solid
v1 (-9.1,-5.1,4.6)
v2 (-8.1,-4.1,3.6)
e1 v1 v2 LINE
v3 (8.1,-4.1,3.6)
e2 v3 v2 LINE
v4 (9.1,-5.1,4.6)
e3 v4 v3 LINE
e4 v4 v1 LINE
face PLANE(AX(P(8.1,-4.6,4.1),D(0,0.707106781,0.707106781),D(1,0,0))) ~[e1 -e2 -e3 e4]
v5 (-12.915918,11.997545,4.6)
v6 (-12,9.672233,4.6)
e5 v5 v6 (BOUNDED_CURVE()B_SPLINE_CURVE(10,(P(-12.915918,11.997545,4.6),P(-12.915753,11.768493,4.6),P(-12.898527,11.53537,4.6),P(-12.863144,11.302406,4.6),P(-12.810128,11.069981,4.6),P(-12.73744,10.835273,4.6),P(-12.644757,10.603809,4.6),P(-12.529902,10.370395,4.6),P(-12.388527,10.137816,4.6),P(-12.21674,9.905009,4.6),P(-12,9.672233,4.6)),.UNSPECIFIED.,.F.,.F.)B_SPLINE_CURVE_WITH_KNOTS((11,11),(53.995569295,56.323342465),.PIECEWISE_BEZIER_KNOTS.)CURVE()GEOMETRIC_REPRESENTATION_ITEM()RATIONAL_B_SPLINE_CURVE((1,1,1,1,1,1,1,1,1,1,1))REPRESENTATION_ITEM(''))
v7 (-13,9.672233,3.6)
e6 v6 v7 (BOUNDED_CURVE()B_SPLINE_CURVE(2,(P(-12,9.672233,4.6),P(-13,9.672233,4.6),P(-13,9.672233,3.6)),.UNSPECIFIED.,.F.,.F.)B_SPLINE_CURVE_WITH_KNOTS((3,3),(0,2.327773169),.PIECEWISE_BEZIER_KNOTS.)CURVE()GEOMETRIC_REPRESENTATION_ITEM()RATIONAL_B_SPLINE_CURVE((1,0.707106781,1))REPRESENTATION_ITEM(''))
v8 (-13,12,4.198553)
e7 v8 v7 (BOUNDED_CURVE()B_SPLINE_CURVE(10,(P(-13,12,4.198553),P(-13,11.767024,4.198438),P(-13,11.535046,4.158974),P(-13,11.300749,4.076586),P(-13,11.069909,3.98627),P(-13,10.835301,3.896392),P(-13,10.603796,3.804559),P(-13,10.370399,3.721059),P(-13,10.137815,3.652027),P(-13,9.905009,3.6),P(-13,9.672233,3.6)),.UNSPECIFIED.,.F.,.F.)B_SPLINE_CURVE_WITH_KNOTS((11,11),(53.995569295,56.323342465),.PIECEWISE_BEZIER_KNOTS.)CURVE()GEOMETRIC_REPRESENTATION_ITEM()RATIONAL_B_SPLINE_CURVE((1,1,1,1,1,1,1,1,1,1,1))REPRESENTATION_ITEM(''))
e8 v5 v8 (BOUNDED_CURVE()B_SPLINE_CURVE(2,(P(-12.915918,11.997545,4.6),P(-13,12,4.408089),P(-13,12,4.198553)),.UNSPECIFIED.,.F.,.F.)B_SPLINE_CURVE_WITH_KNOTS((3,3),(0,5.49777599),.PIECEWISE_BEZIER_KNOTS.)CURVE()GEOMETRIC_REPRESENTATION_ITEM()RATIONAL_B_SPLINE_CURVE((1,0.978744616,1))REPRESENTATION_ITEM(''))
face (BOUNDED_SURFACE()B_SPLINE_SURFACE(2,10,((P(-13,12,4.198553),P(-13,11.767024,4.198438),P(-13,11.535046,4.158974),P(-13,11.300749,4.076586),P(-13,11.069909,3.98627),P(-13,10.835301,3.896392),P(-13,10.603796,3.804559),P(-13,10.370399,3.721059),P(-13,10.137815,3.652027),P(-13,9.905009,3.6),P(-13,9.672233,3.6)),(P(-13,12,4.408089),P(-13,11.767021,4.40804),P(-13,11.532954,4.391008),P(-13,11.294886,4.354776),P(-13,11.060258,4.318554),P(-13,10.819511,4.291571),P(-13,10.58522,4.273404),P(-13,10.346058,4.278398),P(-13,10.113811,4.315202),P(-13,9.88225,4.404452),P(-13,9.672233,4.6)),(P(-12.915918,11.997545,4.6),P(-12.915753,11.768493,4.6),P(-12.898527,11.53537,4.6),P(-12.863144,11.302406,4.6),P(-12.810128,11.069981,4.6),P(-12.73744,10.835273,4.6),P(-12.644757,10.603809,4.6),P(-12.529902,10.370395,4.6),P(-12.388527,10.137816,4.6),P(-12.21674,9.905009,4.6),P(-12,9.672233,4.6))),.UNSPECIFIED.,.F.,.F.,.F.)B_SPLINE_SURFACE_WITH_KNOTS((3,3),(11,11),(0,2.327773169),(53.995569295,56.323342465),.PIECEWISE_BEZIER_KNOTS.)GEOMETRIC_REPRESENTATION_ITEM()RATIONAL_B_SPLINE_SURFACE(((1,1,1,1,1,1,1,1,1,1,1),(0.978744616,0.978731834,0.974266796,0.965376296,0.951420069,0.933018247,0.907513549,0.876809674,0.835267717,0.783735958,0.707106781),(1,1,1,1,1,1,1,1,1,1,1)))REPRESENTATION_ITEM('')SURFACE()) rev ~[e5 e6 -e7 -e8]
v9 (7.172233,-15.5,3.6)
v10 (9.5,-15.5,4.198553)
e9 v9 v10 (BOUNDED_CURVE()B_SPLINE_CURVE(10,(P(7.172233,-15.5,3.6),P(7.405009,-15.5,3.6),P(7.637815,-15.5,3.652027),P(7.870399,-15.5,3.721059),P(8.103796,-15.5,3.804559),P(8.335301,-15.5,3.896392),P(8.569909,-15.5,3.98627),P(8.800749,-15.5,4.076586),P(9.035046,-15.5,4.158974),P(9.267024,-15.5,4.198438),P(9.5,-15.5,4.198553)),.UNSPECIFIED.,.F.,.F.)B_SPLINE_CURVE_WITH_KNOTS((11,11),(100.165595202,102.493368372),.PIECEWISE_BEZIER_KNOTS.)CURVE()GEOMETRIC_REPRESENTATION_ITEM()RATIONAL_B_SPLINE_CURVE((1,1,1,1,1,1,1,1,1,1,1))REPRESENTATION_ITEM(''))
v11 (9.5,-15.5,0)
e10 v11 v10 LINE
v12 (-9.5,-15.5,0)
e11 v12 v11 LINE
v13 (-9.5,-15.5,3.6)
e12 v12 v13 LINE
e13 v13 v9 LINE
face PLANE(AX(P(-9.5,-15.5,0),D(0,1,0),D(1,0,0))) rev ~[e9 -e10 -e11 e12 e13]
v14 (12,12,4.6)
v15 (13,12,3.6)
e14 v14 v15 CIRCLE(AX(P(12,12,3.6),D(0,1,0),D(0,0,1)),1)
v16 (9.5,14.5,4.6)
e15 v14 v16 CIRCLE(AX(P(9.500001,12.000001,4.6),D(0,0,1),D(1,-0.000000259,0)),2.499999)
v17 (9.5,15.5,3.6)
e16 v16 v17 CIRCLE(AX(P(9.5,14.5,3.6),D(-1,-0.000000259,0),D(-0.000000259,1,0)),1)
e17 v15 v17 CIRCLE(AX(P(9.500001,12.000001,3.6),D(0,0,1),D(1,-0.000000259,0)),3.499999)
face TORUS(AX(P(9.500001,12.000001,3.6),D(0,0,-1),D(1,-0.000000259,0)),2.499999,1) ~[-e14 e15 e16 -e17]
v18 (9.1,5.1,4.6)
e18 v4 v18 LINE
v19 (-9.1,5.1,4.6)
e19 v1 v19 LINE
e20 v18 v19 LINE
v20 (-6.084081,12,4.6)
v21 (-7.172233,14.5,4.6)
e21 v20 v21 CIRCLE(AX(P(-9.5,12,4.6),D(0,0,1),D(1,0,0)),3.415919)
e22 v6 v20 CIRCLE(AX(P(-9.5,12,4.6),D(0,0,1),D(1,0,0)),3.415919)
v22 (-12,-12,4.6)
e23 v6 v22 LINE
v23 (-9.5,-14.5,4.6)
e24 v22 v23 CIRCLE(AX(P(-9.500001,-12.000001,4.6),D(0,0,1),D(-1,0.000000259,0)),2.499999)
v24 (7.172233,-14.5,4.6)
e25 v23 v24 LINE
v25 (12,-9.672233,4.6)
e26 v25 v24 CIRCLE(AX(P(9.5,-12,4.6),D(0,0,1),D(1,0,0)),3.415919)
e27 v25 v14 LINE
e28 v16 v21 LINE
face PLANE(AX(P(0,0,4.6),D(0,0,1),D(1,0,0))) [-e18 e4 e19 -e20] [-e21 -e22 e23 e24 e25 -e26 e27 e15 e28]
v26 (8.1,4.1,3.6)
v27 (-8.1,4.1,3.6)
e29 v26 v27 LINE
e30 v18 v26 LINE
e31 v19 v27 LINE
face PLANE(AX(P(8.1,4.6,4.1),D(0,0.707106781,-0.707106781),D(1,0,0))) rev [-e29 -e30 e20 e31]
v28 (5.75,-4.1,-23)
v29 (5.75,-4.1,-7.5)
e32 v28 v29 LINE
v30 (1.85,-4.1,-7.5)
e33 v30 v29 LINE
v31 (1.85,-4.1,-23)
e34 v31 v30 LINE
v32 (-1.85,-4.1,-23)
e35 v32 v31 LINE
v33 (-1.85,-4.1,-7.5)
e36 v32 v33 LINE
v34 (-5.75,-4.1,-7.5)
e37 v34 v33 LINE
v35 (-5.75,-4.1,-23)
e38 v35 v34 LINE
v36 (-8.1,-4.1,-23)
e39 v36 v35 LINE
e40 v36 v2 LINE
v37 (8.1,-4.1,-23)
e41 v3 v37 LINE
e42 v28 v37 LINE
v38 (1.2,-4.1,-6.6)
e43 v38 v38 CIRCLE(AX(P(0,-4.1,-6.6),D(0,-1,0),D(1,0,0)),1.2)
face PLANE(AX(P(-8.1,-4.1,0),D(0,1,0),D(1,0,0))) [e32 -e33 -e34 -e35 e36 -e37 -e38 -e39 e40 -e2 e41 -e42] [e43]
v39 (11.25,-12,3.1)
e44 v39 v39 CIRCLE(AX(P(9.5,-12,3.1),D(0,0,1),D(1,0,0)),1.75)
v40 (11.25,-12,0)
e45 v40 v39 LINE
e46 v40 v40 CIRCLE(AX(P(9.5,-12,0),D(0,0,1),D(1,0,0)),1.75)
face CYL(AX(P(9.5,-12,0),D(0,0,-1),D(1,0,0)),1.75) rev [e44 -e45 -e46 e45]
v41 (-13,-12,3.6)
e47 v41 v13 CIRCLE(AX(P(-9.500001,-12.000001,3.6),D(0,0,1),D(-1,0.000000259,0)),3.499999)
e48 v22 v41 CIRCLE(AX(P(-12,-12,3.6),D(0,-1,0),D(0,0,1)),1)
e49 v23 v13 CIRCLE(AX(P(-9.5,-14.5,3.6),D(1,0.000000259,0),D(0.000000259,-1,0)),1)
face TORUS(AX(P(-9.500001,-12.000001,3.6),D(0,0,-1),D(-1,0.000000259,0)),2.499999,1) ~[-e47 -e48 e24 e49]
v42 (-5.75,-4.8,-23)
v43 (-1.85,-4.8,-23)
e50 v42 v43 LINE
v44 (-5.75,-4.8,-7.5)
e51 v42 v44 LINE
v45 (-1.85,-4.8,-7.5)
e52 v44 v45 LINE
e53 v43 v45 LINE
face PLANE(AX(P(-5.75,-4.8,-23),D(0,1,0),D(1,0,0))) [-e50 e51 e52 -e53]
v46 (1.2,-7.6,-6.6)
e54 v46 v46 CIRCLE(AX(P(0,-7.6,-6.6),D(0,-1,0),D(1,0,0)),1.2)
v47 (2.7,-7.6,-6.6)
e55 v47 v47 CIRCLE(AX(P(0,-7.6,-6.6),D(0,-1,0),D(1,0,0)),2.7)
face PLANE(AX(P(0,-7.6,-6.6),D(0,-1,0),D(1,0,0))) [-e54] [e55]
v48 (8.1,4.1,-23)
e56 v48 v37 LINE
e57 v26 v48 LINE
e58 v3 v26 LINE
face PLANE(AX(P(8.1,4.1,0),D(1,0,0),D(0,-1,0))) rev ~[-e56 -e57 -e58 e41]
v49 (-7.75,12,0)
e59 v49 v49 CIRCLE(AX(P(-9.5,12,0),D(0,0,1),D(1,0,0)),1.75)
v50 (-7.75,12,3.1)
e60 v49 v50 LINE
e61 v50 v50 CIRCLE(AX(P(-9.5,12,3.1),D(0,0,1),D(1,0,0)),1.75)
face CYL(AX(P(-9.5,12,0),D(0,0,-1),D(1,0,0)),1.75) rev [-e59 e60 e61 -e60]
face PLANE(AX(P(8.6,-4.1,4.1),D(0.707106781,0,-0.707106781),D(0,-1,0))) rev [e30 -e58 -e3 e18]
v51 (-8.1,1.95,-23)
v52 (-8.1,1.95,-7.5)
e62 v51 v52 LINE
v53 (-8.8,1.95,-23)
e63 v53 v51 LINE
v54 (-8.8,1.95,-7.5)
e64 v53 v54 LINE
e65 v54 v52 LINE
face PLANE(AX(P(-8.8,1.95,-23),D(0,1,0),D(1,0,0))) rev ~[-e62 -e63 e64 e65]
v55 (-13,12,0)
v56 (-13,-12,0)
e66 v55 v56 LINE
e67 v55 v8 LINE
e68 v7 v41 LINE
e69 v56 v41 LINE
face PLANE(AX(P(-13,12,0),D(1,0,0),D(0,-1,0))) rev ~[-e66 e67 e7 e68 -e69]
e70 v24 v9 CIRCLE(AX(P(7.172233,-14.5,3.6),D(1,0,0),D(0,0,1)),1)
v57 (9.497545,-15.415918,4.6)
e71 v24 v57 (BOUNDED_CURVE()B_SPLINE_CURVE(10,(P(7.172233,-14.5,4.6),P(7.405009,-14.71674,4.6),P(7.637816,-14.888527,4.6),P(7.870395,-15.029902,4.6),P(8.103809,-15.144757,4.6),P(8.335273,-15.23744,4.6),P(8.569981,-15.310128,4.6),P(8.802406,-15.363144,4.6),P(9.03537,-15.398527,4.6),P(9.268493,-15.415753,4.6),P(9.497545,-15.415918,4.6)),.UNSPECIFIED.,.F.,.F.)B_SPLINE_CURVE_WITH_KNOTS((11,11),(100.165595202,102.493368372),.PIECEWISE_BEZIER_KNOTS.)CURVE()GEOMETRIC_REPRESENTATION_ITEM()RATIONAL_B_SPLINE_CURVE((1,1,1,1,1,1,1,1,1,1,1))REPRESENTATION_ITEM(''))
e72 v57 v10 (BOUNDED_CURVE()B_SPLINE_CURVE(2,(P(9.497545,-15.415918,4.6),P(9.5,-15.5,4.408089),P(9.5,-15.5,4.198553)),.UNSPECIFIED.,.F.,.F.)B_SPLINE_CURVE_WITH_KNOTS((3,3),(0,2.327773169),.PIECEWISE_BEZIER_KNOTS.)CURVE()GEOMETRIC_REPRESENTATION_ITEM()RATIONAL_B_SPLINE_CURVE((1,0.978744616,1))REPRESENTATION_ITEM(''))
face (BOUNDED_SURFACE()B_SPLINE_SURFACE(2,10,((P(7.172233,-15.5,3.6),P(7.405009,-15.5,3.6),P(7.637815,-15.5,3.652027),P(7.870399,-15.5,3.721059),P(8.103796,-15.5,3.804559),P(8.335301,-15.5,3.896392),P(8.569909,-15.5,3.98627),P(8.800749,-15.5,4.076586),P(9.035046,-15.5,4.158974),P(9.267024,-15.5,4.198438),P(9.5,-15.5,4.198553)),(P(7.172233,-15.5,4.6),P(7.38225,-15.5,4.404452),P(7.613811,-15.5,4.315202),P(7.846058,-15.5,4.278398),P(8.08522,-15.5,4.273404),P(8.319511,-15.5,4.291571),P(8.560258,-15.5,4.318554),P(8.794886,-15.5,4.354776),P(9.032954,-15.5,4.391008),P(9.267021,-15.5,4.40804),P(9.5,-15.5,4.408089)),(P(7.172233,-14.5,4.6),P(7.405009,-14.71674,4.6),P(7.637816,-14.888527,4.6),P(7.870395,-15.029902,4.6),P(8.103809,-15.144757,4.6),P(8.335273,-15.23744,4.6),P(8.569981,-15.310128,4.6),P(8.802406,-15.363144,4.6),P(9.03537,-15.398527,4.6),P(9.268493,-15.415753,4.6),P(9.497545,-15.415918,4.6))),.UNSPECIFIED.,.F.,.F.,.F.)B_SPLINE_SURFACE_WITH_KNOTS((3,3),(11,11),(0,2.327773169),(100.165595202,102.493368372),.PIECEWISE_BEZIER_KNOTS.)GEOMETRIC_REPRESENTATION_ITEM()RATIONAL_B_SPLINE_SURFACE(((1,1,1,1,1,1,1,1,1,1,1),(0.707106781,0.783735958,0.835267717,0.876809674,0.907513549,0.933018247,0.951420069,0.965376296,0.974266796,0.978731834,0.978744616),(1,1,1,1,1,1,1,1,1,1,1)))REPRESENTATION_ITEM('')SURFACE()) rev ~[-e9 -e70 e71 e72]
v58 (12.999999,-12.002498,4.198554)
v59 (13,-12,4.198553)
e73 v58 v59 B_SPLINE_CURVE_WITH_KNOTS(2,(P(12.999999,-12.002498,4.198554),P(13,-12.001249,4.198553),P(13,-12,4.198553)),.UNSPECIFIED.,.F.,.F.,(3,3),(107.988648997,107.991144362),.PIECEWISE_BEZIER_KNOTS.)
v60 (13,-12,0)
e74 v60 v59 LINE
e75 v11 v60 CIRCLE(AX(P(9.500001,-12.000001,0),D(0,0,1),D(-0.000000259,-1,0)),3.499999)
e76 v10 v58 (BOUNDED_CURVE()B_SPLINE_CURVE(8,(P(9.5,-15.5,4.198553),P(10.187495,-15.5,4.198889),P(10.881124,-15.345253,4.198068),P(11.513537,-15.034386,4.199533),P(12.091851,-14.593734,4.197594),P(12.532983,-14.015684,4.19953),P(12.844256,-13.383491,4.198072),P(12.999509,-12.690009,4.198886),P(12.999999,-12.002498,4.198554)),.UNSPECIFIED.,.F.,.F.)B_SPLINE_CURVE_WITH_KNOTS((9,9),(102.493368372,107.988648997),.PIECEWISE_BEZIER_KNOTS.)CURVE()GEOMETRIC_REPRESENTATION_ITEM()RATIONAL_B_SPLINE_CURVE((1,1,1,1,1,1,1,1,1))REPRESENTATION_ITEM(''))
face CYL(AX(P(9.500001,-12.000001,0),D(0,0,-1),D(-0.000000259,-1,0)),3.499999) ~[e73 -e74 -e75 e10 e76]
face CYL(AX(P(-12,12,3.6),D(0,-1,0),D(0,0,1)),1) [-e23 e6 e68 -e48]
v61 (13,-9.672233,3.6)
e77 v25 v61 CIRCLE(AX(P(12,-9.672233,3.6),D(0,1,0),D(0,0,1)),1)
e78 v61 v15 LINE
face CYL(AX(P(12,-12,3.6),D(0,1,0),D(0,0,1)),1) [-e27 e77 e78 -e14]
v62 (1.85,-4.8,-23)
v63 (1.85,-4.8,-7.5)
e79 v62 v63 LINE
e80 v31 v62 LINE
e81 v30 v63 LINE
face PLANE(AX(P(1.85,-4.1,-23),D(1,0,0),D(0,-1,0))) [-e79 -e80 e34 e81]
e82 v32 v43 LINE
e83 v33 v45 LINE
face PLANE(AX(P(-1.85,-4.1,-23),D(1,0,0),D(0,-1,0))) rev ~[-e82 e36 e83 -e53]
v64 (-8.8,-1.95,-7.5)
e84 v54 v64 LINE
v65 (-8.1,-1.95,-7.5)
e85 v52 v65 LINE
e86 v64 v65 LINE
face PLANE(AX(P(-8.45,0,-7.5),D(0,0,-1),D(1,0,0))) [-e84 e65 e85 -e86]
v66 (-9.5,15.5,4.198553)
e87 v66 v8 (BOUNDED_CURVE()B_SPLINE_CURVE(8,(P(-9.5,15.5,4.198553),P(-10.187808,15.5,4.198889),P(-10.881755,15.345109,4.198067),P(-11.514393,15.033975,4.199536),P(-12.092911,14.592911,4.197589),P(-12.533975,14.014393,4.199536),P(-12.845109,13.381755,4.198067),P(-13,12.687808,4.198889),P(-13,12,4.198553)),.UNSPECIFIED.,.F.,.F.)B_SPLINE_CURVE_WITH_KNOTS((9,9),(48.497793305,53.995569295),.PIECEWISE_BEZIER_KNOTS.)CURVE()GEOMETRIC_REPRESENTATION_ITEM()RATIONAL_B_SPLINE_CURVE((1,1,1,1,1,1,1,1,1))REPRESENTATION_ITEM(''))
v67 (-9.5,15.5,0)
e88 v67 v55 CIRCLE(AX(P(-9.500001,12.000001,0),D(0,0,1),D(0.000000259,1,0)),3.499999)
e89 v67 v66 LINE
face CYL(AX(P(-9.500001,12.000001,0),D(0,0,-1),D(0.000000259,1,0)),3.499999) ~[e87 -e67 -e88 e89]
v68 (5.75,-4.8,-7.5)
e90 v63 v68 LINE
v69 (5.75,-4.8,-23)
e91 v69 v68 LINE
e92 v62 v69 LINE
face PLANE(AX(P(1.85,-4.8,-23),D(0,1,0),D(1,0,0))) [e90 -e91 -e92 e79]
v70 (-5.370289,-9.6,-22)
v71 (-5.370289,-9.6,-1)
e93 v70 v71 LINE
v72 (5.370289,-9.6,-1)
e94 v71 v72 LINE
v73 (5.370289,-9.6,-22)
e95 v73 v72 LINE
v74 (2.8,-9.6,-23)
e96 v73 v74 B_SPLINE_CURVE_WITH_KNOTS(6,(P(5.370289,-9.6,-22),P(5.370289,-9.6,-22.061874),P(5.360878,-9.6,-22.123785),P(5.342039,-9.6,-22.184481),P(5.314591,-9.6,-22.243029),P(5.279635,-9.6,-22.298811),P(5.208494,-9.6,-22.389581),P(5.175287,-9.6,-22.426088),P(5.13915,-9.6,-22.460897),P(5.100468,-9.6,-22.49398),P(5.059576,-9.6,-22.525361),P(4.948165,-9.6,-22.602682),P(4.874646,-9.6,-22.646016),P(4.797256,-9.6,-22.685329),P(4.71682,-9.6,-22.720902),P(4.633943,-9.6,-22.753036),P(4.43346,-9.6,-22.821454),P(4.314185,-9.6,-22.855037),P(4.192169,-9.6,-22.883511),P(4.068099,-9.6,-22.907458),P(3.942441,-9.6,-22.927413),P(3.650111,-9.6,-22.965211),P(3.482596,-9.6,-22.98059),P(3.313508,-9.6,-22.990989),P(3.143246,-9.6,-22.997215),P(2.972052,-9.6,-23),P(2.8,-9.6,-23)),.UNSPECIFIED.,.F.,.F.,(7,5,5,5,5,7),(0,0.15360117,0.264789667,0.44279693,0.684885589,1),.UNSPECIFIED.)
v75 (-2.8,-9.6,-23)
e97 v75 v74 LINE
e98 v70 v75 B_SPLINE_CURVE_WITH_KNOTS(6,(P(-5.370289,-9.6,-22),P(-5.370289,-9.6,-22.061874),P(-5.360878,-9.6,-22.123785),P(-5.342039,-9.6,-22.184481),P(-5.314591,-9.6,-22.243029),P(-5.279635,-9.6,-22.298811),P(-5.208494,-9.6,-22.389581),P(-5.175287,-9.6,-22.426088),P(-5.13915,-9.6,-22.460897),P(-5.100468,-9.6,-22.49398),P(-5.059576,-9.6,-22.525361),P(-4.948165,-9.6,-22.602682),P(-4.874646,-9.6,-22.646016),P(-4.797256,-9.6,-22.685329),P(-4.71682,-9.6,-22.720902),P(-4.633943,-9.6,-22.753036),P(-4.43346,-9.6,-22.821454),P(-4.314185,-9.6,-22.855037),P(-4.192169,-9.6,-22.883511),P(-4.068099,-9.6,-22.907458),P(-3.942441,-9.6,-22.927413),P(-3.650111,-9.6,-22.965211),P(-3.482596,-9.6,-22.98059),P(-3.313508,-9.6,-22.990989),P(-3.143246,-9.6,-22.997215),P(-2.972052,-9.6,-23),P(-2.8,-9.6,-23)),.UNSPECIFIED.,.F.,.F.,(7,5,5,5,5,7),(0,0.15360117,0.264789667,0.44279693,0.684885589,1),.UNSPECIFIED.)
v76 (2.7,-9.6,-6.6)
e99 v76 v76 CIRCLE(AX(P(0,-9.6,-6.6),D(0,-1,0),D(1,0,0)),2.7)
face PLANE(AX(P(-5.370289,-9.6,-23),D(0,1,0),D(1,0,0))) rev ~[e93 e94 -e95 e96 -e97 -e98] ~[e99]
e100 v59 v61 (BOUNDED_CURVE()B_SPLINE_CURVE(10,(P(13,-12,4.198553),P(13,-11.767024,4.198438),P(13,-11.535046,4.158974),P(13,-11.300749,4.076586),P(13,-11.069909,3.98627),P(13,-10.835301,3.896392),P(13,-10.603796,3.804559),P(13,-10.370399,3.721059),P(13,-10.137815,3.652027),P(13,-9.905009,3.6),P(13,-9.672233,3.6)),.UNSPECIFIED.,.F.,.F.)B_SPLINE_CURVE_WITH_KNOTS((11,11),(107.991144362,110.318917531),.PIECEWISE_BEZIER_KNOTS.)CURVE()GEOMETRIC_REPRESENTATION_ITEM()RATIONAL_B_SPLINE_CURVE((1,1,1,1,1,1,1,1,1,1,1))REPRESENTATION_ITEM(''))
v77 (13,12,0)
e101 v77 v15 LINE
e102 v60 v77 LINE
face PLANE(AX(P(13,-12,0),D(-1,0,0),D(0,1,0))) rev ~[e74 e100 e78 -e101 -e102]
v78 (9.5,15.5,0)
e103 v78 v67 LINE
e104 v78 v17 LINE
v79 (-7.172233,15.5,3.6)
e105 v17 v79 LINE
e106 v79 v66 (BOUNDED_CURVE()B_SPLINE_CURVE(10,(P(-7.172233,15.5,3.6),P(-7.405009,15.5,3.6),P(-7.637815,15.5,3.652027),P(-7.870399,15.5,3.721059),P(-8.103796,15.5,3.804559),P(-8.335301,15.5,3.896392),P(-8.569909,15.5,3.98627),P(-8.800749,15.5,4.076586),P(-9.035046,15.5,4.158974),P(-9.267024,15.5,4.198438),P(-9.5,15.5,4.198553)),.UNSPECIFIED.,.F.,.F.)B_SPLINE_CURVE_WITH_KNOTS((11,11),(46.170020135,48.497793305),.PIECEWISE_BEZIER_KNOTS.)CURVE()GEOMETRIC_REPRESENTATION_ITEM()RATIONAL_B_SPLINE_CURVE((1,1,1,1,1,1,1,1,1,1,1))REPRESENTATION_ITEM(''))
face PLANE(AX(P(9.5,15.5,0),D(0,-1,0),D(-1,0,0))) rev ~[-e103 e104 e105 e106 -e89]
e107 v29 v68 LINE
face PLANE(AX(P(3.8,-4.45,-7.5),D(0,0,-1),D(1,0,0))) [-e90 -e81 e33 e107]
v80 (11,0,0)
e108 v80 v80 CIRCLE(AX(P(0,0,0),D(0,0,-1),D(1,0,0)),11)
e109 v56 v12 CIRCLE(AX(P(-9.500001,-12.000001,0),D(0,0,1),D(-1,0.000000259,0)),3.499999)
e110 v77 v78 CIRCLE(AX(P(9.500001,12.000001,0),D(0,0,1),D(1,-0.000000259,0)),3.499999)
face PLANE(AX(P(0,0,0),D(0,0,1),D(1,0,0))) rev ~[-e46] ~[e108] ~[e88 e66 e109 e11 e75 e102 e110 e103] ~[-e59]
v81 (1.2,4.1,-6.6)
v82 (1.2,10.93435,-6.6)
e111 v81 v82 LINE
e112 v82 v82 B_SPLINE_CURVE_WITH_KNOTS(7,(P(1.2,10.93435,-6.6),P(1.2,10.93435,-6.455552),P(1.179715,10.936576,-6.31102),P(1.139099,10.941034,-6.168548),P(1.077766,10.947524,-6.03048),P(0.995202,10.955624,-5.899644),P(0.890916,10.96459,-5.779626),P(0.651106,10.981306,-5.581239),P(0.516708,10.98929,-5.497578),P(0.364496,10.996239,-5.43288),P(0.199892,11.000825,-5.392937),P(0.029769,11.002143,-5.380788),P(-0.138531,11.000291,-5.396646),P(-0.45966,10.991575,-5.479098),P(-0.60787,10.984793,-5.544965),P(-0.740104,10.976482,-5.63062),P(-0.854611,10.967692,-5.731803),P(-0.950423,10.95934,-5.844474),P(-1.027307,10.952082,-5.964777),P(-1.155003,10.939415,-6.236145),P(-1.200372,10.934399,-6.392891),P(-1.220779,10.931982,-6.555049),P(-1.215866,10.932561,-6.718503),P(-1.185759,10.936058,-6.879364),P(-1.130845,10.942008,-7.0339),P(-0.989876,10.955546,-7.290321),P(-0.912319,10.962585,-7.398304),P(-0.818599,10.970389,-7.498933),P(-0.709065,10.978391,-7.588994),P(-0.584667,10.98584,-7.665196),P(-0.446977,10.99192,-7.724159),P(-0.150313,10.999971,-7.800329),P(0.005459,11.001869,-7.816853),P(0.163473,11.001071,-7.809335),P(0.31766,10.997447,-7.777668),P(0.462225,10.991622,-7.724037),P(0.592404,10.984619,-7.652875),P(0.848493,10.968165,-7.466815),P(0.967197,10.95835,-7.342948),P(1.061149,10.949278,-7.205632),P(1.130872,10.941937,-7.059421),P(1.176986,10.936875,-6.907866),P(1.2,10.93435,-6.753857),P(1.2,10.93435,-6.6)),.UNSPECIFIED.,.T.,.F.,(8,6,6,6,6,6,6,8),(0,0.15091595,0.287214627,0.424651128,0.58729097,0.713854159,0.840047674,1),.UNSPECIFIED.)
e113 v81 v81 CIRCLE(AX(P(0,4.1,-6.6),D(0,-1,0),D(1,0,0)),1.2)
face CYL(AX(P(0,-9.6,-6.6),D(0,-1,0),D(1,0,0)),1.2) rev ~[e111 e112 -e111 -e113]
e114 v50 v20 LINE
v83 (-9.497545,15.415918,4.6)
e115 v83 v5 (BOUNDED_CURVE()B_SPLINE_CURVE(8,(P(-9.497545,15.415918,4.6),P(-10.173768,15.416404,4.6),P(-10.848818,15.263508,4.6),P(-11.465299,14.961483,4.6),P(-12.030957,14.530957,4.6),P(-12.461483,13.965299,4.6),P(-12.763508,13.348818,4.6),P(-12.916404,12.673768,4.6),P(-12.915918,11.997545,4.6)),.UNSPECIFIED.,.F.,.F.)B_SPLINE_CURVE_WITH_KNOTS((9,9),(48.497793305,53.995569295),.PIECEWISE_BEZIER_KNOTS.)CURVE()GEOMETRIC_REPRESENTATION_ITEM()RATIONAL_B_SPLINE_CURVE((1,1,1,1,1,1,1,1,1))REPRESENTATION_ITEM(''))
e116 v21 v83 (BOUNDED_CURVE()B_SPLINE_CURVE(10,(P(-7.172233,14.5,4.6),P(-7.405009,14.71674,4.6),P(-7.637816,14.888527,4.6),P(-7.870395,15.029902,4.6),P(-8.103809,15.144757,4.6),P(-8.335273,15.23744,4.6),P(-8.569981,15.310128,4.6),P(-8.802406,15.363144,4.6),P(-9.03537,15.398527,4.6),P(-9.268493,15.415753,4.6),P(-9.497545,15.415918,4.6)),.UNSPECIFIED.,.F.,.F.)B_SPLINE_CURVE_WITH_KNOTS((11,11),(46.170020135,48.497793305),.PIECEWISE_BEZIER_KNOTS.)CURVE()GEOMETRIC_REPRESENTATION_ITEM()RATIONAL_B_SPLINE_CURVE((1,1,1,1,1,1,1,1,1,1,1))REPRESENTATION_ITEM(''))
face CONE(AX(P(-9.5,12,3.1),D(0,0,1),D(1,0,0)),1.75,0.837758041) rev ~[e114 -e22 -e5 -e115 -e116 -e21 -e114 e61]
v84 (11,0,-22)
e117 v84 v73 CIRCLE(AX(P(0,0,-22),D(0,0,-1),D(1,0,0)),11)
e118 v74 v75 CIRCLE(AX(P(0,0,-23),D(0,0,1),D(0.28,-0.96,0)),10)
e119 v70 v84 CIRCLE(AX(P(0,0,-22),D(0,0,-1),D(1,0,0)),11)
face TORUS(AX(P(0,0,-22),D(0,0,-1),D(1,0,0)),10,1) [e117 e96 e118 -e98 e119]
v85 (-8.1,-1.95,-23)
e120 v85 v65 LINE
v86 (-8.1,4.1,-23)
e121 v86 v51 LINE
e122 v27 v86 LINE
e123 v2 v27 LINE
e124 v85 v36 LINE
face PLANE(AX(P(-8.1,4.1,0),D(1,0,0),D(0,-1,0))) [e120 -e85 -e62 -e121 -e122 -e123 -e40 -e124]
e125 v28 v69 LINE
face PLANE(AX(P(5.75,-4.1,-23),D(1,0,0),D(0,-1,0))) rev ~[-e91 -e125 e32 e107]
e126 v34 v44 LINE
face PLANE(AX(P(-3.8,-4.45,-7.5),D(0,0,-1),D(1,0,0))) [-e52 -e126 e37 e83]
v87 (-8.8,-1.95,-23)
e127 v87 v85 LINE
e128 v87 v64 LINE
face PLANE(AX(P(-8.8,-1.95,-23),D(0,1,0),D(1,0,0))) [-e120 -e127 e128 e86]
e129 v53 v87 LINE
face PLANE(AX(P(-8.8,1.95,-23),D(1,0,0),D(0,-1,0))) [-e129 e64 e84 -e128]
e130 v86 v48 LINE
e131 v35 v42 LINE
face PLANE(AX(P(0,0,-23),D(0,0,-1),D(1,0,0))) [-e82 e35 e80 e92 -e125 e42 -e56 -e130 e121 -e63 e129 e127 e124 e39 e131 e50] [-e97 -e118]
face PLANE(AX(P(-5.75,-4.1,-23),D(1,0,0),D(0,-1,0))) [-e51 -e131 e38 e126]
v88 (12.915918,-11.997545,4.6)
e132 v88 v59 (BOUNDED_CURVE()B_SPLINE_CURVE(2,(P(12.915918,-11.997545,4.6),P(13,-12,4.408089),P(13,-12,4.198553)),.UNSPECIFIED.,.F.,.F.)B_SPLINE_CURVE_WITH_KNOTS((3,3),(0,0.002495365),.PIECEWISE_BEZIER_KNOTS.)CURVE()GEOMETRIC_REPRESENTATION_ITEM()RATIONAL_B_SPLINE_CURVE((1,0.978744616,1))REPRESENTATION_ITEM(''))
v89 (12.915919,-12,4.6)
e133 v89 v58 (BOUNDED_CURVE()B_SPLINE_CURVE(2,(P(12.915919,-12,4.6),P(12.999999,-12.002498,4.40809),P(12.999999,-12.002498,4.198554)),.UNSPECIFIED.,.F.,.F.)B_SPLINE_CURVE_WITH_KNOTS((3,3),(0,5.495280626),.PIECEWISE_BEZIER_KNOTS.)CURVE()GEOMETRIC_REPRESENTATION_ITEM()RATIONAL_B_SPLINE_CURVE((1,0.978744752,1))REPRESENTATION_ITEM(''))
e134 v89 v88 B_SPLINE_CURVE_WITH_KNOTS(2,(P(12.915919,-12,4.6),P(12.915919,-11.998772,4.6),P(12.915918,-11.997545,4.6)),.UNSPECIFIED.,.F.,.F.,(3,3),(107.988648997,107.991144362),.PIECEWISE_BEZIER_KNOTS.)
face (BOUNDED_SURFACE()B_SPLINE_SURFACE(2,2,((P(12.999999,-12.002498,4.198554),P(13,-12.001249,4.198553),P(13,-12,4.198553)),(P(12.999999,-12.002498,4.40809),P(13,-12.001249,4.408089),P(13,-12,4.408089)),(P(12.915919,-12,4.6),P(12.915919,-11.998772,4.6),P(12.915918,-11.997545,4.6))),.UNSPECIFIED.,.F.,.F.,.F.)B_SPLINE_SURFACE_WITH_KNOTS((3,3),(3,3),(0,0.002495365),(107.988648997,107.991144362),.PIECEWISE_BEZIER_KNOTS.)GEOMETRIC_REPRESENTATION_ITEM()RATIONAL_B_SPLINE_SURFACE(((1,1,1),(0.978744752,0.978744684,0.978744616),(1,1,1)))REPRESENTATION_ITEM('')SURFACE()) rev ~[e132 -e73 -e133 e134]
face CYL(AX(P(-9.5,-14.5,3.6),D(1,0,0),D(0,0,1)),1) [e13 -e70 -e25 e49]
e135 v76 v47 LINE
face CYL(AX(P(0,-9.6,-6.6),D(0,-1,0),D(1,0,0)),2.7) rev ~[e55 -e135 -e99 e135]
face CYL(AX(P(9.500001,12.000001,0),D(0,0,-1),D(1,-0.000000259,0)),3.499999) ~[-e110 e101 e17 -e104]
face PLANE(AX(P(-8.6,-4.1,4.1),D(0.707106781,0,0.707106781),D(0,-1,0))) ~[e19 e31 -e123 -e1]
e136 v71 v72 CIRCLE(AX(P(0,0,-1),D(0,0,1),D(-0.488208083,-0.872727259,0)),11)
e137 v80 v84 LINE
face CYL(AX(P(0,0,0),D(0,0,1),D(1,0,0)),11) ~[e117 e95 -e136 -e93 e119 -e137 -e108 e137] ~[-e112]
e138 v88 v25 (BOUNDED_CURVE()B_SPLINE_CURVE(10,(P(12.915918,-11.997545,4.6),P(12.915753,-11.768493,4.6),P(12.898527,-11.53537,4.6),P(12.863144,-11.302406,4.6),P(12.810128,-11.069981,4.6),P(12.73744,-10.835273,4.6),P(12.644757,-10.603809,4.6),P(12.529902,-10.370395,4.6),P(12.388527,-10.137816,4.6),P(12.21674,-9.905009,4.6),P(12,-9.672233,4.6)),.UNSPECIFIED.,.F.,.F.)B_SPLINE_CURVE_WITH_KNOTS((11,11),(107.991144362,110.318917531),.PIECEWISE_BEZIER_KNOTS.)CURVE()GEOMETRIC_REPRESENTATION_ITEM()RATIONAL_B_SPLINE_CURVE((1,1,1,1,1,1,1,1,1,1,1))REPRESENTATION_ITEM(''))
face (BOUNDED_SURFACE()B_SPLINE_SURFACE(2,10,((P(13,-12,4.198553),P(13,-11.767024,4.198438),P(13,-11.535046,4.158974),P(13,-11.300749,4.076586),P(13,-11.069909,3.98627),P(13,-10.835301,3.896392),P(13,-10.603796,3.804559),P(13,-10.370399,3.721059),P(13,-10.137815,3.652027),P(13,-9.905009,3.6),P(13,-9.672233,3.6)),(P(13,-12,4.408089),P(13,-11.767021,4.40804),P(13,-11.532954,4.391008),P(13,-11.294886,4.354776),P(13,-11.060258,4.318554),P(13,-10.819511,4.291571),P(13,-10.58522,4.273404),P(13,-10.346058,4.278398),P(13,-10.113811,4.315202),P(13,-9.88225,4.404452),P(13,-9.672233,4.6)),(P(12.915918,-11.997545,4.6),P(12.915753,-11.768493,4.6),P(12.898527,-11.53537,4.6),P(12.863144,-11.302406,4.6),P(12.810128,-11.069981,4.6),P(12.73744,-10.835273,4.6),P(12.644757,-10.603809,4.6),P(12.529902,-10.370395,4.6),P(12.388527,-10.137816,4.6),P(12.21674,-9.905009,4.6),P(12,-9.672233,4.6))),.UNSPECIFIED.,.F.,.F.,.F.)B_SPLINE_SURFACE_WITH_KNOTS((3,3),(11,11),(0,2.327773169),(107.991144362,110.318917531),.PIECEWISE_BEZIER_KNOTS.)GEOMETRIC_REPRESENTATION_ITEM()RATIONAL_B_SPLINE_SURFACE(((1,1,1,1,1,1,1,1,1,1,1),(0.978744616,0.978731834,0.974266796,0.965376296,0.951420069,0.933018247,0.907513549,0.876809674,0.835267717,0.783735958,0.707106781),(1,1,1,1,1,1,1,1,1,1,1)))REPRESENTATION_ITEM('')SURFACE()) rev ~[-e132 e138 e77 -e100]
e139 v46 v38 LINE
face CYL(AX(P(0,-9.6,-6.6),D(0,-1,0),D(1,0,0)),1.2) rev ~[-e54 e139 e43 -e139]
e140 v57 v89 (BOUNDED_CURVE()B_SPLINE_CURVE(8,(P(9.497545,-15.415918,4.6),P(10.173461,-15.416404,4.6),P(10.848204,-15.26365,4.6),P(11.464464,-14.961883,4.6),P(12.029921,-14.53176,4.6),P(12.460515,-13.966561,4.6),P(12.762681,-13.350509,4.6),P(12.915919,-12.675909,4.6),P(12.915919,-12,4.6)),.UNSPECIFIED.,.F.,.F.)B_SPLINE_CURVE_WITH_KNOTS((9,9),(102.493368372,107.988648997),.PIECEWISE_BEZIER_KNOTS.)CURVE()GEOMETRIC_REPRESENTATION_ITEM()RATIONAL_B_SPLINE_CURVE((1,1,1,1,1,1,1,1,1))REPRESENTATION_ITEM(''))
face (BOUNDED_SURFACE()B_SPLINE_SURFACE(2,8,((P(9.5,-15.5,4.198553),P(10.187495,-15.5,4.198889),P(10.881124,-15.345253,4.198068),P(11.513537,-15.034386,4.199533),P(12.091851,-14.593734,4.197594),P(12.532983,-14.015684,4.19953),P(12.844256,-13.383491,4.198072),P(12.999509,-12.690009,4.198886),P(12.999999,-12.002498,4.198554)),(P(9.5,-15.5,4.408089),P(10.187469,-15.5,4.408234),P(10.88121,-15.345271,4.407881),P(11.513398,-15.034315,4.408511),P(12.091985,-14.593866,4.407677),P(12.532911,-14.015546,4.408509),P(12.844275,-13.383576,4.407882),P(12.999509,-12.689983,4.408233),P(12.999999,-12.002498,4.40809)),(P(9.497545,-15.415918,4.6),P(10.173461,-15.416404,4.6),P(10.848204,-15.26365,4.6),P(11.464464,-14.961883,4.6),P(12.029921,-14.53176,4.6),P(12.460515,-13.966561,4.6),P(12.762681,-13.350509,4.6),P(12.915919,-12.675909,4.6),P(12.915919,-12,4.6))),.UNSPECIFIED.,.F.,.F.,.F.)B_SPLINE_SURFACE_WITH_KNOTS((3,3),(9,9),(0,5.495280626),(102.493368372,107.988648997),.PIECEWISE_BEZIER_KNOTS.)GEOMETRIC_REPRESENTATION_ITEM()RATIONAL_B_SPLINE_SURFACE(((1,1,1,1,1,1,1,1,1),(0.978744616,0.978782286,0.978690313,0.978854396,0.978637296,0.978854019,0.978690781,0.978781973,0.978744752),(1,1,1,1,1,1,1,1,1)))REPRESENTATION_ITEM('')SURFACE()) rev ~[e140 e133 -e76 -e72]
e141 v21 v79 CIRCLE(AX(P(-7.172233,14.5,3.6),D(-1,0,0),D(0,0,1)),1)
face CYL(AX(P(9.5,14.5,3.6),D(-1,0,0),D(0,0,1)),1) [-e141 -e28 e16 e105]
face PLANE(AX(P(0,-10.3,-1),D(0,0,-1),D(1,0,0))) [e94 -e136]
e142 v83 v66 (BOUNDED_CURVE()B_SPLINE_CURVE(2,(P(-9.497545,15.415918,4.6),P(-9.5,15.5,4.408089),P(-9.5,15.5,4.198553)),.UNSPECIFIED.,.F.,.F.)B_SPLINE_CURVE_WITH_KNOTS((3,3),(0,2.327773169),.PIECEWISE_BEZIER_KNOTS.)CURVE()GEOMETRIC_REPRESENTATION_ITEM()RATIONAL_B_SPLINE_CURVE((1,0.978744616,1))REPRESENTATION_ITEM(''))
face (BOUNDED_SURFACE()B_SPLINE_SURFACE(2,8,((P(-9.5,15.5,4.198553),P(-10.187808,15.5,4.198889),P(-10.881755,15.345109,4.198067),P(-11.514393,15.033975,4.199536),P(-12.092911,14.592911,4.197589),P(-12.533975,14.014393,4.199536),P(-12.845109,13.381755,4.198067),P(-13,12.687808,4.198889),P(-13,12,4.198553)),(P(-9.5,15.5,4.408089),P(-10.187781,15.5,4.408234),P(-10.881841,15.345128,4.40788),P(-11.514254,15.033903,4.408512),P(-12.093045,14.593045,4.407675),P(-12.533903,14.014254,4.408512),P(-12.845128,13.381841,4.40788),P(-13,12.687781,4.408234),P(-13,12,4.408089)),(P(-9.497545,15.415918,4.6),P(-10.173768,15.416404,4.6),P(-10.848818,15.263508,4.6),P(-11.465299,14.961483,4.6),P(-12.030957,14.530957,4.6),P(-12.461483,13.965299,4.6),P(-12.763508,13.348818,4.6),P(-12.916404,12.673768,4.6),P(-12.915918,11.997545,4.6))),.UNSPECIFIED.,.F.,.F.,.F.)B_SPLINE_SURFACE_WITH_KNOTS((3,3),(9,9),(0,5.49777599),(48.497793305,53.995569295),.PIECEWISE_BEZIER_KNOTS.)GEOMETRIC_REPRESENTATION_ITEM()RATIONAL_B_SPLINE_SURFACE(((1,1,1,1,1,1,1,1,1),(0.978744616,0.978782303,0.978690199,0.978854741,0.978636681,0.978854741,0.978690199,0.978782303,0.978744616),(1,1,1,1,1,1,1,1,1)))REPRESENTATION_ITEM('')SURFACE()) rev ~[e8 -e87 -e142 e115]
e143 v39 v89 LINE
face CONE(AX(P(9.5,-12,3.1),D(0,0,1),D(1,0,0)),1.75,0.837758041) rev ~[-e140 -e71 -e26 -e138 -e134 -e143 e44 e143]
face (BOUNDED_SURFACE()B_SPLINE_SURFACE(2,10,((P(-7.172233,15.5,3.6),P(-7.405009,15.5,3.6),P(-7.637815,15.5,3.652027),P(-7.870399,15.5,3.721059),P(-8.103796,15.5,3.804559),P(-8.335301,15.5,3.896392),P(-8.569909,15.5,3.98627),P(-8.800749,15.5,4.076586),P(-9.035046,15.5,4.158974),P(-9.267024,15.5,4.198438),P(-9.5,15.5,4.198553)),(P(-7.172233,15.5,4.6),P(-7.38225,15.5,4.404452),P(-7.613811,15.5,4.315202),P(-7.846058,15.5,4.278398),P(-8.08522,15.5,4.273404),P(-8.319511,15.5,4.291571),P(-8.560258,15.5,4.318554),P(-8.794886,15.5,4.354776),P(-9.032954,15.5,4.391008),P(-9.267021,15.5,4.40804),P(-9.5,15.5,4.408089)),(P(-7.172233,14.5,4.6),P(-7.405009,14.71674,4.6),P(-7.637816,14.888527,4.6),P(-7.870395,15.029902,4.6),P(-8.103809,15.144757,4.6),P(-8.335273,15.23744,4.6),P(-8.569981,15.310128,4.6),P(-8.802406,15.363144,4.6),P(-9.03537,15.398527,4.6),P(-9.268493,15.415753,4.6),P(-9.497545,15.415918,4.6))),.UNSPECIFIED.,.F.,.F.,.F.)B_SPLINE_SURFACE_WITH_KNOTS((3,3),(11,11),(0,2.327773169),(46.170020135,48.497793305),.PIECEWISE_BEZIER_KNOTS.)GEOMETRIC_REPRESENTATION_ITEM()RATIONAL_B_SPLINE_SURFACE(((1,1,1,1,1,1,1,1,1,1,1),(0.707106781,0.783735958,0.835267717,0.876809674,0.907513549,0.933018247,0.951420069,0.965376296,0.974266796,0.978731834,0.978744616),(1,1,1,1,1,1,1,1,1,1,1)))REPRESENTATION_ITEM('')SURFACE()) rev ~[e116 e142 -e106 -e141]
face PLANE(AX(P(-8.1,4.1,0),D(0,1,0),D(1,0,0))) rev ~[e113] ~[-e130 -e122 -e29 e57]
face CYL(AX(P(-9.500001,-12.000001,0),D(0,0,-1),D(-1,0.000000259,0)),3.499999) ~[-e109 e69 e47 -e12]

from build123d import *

# Parameters (mm, degrees)
SKETCH_R        = 1.75
PAD_DEPTH       = 4.6
SKETCH001_R     = 11
SKETCH001_W     = 16.2
SKETCH001_H     = 8.2
PAD001_DEPTH    = 23
SKETCH002_W     = 16.2
SKETCH002_H     = 8.2
POCKET_DEPTH    = 4.601
SKETCH003_W     = 0.7
SKETCH003_H     = 3.9
SKETCH003_W_2   = 3.9
SKETCH003_H_2   = 0.7
POCKET001_DEPTH = 15.5
FILLET001_R     = 1
SKETCH004_W     = 10.740578
SKETCH004_H     = 1.4
POCKET002_DEPTH = 22
SKETCH005_R     = 1.2
POCKET003_DEPTH = 25.101
SKETCH006_R     = 2.7
POCKET004_DEPTH = 2
CHAMFER_1_ANGLE = 48
CHAMFER_1_SIZE  = 1.5
CHAMFER_2_ANGLE = 48
CHAMFER_2_SIZE  = 1.5
FILLET_R        = 1
CHAMFER001_SIZE = 1


with BuildPart() as part:
    # Sketch → Pad (new body)
    with BuildSketch(Plane.XY):
        with BuildLine():
            Line((-13, 12), (-13, -12))
            ThreePointArc((-13, -12), (-11.974874, -14.474874), (-9.5, -15.5))
            Line((-9.5, -15.5), (9.5, -15.5))
            ThreePointArc((9.5, -15.5), (11.974874, -14.474874), (13, -12))
            Line((13, -12), (13, 12))
            ThreePointArc((13, 12), (11.974874, 14.474874), (9.5, 15.5))
            Line((9.5, 15.5), (-9.5, 15.5))
            ThreePointArc((-9.5, 15.5), (-11.974874, 14.474874), (-13, 12))
        make_face()
        with Locations((-9.5, 12)):
            Circle(SKETCH_R, mode=Mode.SUBTRACT)
        with Locations((9.5, -12)):
            Circle(SKETCH_R, mode=Mode.SUBTRACT)
    extrude(amount=PAD_DEPTH)

    # Sketch001 → Pad001 (join)
    with BuildSketch(Plane(origin=(0, 0, 0), x_dir=(1, 0, 0), z_dir=(0, 0, -1))):
        Circle(SKETCH001_R)
        Rectangle(SKETCH001_W, SKETCH001_H, mode=Mode.SUBTRACT)
    extrude(amount=PAD001_DEPTH)

    # Sketch002 (on Face19 of Pad001) → Pocket (cut, through all)
    with BuildSketch(Plane(origin=(0, 0, 0), x_dir=(1, 0, 0), z_dir=(0, 0, -1))):
        Rectangle(SKETCH002_W, SKETCH002_H)
    extrude(amount=-POCKET_DEPTH, mode=Mode.SUBTRACT)

    # Sketch003 → Pocket001 (cut)
    with BuildSketch(Plane(origin=(0, 0, -23), x_dir=(1, 0, 0), z_dir=(0, 0, -1))):
        with Locations((-8.45, 0)):
            Rectangle(SKETCH003_W, SKETCH003_H)
        with Locations((-3.8, 4.45)):
            Rectangle(SKETCH003_W_2, SKETCH003_H_2)
        with Locations((3.8, 4.45)):
            Rectangle(SKETCH003_W_2, SKETCH003_H_2)
    extrude(amount=-POCKET001_DEPTH, mode=Mode.SUBTRACT)

    # Fillet001
    fillet001_edges = [part.edges().sort_by_distance(p)[0] for p in [
        (-11, 0, -23),
    ]]
    fillet(fillet001_edges, radius=FILLET001_R)

    # Sketch004 (on Face4 of Fillet001) → Pocket002 (cut)
    with BuildSketch(Plane(origin=(0, 0, -23), x_dir=(1, 0, 0), z_dir=(0, 0, -1))):
        with Locations((0, 10.3)):
            Rectangle(SKETCH004_W, SKETCH004_H)
    extrude(amount=-POCKET002_DEPTH, mode=Mode.SUBTRACT)

    # Sketch005 (on Face3 of Pocket002) → Pocket003 (cut, through all)
    with BuildSketch(Plane.XZ.offset(9.6)):
        with Locations((0, -6.6)):
            Circle(SKETCH005_R)
    extrude(amount=-POCKET003_DEPTH, mode=Mode.SUBTRACT)

    # Sketch006 (on Face2 of Pocket003) → Pocket004 (cut)
    with BuildSketch(Plane.XZ.offset(9.6)):
        with Locations((0, -6.6)):
            Circle(SKETCH006_R)
    extrude(amount=-POCKET004_DEPTH, mode=Mode.SUBTRACT)

    # Chamfer 1
    chamfer_1_edges = [part.edges().sort_by_distance(p)[0] for p in [
        (-11.25, 12, 4.6),
    ]]
    chamfer_1_side = part.faces().sort_by_distance((-11.25, 12, 2.3))[0]
    chamfer(chamfer_1_edges, length=CHAMFER_1_SIZE, angle=CHAMFER_1_ANGLE, reference=chamfer_1_side)

    # Chamfer 2
    chamfer_2_edges = [part.edges().sort_by_distance(p)[0] for p in [
        (7.75, -12, 4.6),
    ]]
    chamfer_2_side = part.faces().sort_by_distance((7.75, -12, 2.3))[0]
    chamfer(chamfer_2_edges, length=CHAMFER_2_SIZE, angle=CHAMFER_2_ANGLE, reference=chamfer_2_side)

    # Fillet
    fillet_edges = [part.edges().sort_by_distance(p)[0] for p in [
        (13, 0, 4.6),
        (0, -15.5, 4.6),
        (-13, 0, 4.6),
        (-11.974874, -14.474874, 4.6),
        (11.974874, 14.474874, 4.6),
        (0, 15.5, 4.6),
        (11.974874, -14.474874, 4.6),
        (-11.974874, 14.474874, 4.6),
    ]]
    fillet(fillet_edges, radius=FILLET_R)

    # Chamfer001
    chamfer001_edges = [part.edges().sort_by_distance(p)[0] for p in [
        (0, -4.1, 4.6),
        (-8.1, 0, 4.6),
        (0, 4.1, 4.6),
        (8.1, 0, 4.6),
    ]]
    chamfer(chamfer001_edges, length=CHAMFER001_SIZE)


solid = part.part
